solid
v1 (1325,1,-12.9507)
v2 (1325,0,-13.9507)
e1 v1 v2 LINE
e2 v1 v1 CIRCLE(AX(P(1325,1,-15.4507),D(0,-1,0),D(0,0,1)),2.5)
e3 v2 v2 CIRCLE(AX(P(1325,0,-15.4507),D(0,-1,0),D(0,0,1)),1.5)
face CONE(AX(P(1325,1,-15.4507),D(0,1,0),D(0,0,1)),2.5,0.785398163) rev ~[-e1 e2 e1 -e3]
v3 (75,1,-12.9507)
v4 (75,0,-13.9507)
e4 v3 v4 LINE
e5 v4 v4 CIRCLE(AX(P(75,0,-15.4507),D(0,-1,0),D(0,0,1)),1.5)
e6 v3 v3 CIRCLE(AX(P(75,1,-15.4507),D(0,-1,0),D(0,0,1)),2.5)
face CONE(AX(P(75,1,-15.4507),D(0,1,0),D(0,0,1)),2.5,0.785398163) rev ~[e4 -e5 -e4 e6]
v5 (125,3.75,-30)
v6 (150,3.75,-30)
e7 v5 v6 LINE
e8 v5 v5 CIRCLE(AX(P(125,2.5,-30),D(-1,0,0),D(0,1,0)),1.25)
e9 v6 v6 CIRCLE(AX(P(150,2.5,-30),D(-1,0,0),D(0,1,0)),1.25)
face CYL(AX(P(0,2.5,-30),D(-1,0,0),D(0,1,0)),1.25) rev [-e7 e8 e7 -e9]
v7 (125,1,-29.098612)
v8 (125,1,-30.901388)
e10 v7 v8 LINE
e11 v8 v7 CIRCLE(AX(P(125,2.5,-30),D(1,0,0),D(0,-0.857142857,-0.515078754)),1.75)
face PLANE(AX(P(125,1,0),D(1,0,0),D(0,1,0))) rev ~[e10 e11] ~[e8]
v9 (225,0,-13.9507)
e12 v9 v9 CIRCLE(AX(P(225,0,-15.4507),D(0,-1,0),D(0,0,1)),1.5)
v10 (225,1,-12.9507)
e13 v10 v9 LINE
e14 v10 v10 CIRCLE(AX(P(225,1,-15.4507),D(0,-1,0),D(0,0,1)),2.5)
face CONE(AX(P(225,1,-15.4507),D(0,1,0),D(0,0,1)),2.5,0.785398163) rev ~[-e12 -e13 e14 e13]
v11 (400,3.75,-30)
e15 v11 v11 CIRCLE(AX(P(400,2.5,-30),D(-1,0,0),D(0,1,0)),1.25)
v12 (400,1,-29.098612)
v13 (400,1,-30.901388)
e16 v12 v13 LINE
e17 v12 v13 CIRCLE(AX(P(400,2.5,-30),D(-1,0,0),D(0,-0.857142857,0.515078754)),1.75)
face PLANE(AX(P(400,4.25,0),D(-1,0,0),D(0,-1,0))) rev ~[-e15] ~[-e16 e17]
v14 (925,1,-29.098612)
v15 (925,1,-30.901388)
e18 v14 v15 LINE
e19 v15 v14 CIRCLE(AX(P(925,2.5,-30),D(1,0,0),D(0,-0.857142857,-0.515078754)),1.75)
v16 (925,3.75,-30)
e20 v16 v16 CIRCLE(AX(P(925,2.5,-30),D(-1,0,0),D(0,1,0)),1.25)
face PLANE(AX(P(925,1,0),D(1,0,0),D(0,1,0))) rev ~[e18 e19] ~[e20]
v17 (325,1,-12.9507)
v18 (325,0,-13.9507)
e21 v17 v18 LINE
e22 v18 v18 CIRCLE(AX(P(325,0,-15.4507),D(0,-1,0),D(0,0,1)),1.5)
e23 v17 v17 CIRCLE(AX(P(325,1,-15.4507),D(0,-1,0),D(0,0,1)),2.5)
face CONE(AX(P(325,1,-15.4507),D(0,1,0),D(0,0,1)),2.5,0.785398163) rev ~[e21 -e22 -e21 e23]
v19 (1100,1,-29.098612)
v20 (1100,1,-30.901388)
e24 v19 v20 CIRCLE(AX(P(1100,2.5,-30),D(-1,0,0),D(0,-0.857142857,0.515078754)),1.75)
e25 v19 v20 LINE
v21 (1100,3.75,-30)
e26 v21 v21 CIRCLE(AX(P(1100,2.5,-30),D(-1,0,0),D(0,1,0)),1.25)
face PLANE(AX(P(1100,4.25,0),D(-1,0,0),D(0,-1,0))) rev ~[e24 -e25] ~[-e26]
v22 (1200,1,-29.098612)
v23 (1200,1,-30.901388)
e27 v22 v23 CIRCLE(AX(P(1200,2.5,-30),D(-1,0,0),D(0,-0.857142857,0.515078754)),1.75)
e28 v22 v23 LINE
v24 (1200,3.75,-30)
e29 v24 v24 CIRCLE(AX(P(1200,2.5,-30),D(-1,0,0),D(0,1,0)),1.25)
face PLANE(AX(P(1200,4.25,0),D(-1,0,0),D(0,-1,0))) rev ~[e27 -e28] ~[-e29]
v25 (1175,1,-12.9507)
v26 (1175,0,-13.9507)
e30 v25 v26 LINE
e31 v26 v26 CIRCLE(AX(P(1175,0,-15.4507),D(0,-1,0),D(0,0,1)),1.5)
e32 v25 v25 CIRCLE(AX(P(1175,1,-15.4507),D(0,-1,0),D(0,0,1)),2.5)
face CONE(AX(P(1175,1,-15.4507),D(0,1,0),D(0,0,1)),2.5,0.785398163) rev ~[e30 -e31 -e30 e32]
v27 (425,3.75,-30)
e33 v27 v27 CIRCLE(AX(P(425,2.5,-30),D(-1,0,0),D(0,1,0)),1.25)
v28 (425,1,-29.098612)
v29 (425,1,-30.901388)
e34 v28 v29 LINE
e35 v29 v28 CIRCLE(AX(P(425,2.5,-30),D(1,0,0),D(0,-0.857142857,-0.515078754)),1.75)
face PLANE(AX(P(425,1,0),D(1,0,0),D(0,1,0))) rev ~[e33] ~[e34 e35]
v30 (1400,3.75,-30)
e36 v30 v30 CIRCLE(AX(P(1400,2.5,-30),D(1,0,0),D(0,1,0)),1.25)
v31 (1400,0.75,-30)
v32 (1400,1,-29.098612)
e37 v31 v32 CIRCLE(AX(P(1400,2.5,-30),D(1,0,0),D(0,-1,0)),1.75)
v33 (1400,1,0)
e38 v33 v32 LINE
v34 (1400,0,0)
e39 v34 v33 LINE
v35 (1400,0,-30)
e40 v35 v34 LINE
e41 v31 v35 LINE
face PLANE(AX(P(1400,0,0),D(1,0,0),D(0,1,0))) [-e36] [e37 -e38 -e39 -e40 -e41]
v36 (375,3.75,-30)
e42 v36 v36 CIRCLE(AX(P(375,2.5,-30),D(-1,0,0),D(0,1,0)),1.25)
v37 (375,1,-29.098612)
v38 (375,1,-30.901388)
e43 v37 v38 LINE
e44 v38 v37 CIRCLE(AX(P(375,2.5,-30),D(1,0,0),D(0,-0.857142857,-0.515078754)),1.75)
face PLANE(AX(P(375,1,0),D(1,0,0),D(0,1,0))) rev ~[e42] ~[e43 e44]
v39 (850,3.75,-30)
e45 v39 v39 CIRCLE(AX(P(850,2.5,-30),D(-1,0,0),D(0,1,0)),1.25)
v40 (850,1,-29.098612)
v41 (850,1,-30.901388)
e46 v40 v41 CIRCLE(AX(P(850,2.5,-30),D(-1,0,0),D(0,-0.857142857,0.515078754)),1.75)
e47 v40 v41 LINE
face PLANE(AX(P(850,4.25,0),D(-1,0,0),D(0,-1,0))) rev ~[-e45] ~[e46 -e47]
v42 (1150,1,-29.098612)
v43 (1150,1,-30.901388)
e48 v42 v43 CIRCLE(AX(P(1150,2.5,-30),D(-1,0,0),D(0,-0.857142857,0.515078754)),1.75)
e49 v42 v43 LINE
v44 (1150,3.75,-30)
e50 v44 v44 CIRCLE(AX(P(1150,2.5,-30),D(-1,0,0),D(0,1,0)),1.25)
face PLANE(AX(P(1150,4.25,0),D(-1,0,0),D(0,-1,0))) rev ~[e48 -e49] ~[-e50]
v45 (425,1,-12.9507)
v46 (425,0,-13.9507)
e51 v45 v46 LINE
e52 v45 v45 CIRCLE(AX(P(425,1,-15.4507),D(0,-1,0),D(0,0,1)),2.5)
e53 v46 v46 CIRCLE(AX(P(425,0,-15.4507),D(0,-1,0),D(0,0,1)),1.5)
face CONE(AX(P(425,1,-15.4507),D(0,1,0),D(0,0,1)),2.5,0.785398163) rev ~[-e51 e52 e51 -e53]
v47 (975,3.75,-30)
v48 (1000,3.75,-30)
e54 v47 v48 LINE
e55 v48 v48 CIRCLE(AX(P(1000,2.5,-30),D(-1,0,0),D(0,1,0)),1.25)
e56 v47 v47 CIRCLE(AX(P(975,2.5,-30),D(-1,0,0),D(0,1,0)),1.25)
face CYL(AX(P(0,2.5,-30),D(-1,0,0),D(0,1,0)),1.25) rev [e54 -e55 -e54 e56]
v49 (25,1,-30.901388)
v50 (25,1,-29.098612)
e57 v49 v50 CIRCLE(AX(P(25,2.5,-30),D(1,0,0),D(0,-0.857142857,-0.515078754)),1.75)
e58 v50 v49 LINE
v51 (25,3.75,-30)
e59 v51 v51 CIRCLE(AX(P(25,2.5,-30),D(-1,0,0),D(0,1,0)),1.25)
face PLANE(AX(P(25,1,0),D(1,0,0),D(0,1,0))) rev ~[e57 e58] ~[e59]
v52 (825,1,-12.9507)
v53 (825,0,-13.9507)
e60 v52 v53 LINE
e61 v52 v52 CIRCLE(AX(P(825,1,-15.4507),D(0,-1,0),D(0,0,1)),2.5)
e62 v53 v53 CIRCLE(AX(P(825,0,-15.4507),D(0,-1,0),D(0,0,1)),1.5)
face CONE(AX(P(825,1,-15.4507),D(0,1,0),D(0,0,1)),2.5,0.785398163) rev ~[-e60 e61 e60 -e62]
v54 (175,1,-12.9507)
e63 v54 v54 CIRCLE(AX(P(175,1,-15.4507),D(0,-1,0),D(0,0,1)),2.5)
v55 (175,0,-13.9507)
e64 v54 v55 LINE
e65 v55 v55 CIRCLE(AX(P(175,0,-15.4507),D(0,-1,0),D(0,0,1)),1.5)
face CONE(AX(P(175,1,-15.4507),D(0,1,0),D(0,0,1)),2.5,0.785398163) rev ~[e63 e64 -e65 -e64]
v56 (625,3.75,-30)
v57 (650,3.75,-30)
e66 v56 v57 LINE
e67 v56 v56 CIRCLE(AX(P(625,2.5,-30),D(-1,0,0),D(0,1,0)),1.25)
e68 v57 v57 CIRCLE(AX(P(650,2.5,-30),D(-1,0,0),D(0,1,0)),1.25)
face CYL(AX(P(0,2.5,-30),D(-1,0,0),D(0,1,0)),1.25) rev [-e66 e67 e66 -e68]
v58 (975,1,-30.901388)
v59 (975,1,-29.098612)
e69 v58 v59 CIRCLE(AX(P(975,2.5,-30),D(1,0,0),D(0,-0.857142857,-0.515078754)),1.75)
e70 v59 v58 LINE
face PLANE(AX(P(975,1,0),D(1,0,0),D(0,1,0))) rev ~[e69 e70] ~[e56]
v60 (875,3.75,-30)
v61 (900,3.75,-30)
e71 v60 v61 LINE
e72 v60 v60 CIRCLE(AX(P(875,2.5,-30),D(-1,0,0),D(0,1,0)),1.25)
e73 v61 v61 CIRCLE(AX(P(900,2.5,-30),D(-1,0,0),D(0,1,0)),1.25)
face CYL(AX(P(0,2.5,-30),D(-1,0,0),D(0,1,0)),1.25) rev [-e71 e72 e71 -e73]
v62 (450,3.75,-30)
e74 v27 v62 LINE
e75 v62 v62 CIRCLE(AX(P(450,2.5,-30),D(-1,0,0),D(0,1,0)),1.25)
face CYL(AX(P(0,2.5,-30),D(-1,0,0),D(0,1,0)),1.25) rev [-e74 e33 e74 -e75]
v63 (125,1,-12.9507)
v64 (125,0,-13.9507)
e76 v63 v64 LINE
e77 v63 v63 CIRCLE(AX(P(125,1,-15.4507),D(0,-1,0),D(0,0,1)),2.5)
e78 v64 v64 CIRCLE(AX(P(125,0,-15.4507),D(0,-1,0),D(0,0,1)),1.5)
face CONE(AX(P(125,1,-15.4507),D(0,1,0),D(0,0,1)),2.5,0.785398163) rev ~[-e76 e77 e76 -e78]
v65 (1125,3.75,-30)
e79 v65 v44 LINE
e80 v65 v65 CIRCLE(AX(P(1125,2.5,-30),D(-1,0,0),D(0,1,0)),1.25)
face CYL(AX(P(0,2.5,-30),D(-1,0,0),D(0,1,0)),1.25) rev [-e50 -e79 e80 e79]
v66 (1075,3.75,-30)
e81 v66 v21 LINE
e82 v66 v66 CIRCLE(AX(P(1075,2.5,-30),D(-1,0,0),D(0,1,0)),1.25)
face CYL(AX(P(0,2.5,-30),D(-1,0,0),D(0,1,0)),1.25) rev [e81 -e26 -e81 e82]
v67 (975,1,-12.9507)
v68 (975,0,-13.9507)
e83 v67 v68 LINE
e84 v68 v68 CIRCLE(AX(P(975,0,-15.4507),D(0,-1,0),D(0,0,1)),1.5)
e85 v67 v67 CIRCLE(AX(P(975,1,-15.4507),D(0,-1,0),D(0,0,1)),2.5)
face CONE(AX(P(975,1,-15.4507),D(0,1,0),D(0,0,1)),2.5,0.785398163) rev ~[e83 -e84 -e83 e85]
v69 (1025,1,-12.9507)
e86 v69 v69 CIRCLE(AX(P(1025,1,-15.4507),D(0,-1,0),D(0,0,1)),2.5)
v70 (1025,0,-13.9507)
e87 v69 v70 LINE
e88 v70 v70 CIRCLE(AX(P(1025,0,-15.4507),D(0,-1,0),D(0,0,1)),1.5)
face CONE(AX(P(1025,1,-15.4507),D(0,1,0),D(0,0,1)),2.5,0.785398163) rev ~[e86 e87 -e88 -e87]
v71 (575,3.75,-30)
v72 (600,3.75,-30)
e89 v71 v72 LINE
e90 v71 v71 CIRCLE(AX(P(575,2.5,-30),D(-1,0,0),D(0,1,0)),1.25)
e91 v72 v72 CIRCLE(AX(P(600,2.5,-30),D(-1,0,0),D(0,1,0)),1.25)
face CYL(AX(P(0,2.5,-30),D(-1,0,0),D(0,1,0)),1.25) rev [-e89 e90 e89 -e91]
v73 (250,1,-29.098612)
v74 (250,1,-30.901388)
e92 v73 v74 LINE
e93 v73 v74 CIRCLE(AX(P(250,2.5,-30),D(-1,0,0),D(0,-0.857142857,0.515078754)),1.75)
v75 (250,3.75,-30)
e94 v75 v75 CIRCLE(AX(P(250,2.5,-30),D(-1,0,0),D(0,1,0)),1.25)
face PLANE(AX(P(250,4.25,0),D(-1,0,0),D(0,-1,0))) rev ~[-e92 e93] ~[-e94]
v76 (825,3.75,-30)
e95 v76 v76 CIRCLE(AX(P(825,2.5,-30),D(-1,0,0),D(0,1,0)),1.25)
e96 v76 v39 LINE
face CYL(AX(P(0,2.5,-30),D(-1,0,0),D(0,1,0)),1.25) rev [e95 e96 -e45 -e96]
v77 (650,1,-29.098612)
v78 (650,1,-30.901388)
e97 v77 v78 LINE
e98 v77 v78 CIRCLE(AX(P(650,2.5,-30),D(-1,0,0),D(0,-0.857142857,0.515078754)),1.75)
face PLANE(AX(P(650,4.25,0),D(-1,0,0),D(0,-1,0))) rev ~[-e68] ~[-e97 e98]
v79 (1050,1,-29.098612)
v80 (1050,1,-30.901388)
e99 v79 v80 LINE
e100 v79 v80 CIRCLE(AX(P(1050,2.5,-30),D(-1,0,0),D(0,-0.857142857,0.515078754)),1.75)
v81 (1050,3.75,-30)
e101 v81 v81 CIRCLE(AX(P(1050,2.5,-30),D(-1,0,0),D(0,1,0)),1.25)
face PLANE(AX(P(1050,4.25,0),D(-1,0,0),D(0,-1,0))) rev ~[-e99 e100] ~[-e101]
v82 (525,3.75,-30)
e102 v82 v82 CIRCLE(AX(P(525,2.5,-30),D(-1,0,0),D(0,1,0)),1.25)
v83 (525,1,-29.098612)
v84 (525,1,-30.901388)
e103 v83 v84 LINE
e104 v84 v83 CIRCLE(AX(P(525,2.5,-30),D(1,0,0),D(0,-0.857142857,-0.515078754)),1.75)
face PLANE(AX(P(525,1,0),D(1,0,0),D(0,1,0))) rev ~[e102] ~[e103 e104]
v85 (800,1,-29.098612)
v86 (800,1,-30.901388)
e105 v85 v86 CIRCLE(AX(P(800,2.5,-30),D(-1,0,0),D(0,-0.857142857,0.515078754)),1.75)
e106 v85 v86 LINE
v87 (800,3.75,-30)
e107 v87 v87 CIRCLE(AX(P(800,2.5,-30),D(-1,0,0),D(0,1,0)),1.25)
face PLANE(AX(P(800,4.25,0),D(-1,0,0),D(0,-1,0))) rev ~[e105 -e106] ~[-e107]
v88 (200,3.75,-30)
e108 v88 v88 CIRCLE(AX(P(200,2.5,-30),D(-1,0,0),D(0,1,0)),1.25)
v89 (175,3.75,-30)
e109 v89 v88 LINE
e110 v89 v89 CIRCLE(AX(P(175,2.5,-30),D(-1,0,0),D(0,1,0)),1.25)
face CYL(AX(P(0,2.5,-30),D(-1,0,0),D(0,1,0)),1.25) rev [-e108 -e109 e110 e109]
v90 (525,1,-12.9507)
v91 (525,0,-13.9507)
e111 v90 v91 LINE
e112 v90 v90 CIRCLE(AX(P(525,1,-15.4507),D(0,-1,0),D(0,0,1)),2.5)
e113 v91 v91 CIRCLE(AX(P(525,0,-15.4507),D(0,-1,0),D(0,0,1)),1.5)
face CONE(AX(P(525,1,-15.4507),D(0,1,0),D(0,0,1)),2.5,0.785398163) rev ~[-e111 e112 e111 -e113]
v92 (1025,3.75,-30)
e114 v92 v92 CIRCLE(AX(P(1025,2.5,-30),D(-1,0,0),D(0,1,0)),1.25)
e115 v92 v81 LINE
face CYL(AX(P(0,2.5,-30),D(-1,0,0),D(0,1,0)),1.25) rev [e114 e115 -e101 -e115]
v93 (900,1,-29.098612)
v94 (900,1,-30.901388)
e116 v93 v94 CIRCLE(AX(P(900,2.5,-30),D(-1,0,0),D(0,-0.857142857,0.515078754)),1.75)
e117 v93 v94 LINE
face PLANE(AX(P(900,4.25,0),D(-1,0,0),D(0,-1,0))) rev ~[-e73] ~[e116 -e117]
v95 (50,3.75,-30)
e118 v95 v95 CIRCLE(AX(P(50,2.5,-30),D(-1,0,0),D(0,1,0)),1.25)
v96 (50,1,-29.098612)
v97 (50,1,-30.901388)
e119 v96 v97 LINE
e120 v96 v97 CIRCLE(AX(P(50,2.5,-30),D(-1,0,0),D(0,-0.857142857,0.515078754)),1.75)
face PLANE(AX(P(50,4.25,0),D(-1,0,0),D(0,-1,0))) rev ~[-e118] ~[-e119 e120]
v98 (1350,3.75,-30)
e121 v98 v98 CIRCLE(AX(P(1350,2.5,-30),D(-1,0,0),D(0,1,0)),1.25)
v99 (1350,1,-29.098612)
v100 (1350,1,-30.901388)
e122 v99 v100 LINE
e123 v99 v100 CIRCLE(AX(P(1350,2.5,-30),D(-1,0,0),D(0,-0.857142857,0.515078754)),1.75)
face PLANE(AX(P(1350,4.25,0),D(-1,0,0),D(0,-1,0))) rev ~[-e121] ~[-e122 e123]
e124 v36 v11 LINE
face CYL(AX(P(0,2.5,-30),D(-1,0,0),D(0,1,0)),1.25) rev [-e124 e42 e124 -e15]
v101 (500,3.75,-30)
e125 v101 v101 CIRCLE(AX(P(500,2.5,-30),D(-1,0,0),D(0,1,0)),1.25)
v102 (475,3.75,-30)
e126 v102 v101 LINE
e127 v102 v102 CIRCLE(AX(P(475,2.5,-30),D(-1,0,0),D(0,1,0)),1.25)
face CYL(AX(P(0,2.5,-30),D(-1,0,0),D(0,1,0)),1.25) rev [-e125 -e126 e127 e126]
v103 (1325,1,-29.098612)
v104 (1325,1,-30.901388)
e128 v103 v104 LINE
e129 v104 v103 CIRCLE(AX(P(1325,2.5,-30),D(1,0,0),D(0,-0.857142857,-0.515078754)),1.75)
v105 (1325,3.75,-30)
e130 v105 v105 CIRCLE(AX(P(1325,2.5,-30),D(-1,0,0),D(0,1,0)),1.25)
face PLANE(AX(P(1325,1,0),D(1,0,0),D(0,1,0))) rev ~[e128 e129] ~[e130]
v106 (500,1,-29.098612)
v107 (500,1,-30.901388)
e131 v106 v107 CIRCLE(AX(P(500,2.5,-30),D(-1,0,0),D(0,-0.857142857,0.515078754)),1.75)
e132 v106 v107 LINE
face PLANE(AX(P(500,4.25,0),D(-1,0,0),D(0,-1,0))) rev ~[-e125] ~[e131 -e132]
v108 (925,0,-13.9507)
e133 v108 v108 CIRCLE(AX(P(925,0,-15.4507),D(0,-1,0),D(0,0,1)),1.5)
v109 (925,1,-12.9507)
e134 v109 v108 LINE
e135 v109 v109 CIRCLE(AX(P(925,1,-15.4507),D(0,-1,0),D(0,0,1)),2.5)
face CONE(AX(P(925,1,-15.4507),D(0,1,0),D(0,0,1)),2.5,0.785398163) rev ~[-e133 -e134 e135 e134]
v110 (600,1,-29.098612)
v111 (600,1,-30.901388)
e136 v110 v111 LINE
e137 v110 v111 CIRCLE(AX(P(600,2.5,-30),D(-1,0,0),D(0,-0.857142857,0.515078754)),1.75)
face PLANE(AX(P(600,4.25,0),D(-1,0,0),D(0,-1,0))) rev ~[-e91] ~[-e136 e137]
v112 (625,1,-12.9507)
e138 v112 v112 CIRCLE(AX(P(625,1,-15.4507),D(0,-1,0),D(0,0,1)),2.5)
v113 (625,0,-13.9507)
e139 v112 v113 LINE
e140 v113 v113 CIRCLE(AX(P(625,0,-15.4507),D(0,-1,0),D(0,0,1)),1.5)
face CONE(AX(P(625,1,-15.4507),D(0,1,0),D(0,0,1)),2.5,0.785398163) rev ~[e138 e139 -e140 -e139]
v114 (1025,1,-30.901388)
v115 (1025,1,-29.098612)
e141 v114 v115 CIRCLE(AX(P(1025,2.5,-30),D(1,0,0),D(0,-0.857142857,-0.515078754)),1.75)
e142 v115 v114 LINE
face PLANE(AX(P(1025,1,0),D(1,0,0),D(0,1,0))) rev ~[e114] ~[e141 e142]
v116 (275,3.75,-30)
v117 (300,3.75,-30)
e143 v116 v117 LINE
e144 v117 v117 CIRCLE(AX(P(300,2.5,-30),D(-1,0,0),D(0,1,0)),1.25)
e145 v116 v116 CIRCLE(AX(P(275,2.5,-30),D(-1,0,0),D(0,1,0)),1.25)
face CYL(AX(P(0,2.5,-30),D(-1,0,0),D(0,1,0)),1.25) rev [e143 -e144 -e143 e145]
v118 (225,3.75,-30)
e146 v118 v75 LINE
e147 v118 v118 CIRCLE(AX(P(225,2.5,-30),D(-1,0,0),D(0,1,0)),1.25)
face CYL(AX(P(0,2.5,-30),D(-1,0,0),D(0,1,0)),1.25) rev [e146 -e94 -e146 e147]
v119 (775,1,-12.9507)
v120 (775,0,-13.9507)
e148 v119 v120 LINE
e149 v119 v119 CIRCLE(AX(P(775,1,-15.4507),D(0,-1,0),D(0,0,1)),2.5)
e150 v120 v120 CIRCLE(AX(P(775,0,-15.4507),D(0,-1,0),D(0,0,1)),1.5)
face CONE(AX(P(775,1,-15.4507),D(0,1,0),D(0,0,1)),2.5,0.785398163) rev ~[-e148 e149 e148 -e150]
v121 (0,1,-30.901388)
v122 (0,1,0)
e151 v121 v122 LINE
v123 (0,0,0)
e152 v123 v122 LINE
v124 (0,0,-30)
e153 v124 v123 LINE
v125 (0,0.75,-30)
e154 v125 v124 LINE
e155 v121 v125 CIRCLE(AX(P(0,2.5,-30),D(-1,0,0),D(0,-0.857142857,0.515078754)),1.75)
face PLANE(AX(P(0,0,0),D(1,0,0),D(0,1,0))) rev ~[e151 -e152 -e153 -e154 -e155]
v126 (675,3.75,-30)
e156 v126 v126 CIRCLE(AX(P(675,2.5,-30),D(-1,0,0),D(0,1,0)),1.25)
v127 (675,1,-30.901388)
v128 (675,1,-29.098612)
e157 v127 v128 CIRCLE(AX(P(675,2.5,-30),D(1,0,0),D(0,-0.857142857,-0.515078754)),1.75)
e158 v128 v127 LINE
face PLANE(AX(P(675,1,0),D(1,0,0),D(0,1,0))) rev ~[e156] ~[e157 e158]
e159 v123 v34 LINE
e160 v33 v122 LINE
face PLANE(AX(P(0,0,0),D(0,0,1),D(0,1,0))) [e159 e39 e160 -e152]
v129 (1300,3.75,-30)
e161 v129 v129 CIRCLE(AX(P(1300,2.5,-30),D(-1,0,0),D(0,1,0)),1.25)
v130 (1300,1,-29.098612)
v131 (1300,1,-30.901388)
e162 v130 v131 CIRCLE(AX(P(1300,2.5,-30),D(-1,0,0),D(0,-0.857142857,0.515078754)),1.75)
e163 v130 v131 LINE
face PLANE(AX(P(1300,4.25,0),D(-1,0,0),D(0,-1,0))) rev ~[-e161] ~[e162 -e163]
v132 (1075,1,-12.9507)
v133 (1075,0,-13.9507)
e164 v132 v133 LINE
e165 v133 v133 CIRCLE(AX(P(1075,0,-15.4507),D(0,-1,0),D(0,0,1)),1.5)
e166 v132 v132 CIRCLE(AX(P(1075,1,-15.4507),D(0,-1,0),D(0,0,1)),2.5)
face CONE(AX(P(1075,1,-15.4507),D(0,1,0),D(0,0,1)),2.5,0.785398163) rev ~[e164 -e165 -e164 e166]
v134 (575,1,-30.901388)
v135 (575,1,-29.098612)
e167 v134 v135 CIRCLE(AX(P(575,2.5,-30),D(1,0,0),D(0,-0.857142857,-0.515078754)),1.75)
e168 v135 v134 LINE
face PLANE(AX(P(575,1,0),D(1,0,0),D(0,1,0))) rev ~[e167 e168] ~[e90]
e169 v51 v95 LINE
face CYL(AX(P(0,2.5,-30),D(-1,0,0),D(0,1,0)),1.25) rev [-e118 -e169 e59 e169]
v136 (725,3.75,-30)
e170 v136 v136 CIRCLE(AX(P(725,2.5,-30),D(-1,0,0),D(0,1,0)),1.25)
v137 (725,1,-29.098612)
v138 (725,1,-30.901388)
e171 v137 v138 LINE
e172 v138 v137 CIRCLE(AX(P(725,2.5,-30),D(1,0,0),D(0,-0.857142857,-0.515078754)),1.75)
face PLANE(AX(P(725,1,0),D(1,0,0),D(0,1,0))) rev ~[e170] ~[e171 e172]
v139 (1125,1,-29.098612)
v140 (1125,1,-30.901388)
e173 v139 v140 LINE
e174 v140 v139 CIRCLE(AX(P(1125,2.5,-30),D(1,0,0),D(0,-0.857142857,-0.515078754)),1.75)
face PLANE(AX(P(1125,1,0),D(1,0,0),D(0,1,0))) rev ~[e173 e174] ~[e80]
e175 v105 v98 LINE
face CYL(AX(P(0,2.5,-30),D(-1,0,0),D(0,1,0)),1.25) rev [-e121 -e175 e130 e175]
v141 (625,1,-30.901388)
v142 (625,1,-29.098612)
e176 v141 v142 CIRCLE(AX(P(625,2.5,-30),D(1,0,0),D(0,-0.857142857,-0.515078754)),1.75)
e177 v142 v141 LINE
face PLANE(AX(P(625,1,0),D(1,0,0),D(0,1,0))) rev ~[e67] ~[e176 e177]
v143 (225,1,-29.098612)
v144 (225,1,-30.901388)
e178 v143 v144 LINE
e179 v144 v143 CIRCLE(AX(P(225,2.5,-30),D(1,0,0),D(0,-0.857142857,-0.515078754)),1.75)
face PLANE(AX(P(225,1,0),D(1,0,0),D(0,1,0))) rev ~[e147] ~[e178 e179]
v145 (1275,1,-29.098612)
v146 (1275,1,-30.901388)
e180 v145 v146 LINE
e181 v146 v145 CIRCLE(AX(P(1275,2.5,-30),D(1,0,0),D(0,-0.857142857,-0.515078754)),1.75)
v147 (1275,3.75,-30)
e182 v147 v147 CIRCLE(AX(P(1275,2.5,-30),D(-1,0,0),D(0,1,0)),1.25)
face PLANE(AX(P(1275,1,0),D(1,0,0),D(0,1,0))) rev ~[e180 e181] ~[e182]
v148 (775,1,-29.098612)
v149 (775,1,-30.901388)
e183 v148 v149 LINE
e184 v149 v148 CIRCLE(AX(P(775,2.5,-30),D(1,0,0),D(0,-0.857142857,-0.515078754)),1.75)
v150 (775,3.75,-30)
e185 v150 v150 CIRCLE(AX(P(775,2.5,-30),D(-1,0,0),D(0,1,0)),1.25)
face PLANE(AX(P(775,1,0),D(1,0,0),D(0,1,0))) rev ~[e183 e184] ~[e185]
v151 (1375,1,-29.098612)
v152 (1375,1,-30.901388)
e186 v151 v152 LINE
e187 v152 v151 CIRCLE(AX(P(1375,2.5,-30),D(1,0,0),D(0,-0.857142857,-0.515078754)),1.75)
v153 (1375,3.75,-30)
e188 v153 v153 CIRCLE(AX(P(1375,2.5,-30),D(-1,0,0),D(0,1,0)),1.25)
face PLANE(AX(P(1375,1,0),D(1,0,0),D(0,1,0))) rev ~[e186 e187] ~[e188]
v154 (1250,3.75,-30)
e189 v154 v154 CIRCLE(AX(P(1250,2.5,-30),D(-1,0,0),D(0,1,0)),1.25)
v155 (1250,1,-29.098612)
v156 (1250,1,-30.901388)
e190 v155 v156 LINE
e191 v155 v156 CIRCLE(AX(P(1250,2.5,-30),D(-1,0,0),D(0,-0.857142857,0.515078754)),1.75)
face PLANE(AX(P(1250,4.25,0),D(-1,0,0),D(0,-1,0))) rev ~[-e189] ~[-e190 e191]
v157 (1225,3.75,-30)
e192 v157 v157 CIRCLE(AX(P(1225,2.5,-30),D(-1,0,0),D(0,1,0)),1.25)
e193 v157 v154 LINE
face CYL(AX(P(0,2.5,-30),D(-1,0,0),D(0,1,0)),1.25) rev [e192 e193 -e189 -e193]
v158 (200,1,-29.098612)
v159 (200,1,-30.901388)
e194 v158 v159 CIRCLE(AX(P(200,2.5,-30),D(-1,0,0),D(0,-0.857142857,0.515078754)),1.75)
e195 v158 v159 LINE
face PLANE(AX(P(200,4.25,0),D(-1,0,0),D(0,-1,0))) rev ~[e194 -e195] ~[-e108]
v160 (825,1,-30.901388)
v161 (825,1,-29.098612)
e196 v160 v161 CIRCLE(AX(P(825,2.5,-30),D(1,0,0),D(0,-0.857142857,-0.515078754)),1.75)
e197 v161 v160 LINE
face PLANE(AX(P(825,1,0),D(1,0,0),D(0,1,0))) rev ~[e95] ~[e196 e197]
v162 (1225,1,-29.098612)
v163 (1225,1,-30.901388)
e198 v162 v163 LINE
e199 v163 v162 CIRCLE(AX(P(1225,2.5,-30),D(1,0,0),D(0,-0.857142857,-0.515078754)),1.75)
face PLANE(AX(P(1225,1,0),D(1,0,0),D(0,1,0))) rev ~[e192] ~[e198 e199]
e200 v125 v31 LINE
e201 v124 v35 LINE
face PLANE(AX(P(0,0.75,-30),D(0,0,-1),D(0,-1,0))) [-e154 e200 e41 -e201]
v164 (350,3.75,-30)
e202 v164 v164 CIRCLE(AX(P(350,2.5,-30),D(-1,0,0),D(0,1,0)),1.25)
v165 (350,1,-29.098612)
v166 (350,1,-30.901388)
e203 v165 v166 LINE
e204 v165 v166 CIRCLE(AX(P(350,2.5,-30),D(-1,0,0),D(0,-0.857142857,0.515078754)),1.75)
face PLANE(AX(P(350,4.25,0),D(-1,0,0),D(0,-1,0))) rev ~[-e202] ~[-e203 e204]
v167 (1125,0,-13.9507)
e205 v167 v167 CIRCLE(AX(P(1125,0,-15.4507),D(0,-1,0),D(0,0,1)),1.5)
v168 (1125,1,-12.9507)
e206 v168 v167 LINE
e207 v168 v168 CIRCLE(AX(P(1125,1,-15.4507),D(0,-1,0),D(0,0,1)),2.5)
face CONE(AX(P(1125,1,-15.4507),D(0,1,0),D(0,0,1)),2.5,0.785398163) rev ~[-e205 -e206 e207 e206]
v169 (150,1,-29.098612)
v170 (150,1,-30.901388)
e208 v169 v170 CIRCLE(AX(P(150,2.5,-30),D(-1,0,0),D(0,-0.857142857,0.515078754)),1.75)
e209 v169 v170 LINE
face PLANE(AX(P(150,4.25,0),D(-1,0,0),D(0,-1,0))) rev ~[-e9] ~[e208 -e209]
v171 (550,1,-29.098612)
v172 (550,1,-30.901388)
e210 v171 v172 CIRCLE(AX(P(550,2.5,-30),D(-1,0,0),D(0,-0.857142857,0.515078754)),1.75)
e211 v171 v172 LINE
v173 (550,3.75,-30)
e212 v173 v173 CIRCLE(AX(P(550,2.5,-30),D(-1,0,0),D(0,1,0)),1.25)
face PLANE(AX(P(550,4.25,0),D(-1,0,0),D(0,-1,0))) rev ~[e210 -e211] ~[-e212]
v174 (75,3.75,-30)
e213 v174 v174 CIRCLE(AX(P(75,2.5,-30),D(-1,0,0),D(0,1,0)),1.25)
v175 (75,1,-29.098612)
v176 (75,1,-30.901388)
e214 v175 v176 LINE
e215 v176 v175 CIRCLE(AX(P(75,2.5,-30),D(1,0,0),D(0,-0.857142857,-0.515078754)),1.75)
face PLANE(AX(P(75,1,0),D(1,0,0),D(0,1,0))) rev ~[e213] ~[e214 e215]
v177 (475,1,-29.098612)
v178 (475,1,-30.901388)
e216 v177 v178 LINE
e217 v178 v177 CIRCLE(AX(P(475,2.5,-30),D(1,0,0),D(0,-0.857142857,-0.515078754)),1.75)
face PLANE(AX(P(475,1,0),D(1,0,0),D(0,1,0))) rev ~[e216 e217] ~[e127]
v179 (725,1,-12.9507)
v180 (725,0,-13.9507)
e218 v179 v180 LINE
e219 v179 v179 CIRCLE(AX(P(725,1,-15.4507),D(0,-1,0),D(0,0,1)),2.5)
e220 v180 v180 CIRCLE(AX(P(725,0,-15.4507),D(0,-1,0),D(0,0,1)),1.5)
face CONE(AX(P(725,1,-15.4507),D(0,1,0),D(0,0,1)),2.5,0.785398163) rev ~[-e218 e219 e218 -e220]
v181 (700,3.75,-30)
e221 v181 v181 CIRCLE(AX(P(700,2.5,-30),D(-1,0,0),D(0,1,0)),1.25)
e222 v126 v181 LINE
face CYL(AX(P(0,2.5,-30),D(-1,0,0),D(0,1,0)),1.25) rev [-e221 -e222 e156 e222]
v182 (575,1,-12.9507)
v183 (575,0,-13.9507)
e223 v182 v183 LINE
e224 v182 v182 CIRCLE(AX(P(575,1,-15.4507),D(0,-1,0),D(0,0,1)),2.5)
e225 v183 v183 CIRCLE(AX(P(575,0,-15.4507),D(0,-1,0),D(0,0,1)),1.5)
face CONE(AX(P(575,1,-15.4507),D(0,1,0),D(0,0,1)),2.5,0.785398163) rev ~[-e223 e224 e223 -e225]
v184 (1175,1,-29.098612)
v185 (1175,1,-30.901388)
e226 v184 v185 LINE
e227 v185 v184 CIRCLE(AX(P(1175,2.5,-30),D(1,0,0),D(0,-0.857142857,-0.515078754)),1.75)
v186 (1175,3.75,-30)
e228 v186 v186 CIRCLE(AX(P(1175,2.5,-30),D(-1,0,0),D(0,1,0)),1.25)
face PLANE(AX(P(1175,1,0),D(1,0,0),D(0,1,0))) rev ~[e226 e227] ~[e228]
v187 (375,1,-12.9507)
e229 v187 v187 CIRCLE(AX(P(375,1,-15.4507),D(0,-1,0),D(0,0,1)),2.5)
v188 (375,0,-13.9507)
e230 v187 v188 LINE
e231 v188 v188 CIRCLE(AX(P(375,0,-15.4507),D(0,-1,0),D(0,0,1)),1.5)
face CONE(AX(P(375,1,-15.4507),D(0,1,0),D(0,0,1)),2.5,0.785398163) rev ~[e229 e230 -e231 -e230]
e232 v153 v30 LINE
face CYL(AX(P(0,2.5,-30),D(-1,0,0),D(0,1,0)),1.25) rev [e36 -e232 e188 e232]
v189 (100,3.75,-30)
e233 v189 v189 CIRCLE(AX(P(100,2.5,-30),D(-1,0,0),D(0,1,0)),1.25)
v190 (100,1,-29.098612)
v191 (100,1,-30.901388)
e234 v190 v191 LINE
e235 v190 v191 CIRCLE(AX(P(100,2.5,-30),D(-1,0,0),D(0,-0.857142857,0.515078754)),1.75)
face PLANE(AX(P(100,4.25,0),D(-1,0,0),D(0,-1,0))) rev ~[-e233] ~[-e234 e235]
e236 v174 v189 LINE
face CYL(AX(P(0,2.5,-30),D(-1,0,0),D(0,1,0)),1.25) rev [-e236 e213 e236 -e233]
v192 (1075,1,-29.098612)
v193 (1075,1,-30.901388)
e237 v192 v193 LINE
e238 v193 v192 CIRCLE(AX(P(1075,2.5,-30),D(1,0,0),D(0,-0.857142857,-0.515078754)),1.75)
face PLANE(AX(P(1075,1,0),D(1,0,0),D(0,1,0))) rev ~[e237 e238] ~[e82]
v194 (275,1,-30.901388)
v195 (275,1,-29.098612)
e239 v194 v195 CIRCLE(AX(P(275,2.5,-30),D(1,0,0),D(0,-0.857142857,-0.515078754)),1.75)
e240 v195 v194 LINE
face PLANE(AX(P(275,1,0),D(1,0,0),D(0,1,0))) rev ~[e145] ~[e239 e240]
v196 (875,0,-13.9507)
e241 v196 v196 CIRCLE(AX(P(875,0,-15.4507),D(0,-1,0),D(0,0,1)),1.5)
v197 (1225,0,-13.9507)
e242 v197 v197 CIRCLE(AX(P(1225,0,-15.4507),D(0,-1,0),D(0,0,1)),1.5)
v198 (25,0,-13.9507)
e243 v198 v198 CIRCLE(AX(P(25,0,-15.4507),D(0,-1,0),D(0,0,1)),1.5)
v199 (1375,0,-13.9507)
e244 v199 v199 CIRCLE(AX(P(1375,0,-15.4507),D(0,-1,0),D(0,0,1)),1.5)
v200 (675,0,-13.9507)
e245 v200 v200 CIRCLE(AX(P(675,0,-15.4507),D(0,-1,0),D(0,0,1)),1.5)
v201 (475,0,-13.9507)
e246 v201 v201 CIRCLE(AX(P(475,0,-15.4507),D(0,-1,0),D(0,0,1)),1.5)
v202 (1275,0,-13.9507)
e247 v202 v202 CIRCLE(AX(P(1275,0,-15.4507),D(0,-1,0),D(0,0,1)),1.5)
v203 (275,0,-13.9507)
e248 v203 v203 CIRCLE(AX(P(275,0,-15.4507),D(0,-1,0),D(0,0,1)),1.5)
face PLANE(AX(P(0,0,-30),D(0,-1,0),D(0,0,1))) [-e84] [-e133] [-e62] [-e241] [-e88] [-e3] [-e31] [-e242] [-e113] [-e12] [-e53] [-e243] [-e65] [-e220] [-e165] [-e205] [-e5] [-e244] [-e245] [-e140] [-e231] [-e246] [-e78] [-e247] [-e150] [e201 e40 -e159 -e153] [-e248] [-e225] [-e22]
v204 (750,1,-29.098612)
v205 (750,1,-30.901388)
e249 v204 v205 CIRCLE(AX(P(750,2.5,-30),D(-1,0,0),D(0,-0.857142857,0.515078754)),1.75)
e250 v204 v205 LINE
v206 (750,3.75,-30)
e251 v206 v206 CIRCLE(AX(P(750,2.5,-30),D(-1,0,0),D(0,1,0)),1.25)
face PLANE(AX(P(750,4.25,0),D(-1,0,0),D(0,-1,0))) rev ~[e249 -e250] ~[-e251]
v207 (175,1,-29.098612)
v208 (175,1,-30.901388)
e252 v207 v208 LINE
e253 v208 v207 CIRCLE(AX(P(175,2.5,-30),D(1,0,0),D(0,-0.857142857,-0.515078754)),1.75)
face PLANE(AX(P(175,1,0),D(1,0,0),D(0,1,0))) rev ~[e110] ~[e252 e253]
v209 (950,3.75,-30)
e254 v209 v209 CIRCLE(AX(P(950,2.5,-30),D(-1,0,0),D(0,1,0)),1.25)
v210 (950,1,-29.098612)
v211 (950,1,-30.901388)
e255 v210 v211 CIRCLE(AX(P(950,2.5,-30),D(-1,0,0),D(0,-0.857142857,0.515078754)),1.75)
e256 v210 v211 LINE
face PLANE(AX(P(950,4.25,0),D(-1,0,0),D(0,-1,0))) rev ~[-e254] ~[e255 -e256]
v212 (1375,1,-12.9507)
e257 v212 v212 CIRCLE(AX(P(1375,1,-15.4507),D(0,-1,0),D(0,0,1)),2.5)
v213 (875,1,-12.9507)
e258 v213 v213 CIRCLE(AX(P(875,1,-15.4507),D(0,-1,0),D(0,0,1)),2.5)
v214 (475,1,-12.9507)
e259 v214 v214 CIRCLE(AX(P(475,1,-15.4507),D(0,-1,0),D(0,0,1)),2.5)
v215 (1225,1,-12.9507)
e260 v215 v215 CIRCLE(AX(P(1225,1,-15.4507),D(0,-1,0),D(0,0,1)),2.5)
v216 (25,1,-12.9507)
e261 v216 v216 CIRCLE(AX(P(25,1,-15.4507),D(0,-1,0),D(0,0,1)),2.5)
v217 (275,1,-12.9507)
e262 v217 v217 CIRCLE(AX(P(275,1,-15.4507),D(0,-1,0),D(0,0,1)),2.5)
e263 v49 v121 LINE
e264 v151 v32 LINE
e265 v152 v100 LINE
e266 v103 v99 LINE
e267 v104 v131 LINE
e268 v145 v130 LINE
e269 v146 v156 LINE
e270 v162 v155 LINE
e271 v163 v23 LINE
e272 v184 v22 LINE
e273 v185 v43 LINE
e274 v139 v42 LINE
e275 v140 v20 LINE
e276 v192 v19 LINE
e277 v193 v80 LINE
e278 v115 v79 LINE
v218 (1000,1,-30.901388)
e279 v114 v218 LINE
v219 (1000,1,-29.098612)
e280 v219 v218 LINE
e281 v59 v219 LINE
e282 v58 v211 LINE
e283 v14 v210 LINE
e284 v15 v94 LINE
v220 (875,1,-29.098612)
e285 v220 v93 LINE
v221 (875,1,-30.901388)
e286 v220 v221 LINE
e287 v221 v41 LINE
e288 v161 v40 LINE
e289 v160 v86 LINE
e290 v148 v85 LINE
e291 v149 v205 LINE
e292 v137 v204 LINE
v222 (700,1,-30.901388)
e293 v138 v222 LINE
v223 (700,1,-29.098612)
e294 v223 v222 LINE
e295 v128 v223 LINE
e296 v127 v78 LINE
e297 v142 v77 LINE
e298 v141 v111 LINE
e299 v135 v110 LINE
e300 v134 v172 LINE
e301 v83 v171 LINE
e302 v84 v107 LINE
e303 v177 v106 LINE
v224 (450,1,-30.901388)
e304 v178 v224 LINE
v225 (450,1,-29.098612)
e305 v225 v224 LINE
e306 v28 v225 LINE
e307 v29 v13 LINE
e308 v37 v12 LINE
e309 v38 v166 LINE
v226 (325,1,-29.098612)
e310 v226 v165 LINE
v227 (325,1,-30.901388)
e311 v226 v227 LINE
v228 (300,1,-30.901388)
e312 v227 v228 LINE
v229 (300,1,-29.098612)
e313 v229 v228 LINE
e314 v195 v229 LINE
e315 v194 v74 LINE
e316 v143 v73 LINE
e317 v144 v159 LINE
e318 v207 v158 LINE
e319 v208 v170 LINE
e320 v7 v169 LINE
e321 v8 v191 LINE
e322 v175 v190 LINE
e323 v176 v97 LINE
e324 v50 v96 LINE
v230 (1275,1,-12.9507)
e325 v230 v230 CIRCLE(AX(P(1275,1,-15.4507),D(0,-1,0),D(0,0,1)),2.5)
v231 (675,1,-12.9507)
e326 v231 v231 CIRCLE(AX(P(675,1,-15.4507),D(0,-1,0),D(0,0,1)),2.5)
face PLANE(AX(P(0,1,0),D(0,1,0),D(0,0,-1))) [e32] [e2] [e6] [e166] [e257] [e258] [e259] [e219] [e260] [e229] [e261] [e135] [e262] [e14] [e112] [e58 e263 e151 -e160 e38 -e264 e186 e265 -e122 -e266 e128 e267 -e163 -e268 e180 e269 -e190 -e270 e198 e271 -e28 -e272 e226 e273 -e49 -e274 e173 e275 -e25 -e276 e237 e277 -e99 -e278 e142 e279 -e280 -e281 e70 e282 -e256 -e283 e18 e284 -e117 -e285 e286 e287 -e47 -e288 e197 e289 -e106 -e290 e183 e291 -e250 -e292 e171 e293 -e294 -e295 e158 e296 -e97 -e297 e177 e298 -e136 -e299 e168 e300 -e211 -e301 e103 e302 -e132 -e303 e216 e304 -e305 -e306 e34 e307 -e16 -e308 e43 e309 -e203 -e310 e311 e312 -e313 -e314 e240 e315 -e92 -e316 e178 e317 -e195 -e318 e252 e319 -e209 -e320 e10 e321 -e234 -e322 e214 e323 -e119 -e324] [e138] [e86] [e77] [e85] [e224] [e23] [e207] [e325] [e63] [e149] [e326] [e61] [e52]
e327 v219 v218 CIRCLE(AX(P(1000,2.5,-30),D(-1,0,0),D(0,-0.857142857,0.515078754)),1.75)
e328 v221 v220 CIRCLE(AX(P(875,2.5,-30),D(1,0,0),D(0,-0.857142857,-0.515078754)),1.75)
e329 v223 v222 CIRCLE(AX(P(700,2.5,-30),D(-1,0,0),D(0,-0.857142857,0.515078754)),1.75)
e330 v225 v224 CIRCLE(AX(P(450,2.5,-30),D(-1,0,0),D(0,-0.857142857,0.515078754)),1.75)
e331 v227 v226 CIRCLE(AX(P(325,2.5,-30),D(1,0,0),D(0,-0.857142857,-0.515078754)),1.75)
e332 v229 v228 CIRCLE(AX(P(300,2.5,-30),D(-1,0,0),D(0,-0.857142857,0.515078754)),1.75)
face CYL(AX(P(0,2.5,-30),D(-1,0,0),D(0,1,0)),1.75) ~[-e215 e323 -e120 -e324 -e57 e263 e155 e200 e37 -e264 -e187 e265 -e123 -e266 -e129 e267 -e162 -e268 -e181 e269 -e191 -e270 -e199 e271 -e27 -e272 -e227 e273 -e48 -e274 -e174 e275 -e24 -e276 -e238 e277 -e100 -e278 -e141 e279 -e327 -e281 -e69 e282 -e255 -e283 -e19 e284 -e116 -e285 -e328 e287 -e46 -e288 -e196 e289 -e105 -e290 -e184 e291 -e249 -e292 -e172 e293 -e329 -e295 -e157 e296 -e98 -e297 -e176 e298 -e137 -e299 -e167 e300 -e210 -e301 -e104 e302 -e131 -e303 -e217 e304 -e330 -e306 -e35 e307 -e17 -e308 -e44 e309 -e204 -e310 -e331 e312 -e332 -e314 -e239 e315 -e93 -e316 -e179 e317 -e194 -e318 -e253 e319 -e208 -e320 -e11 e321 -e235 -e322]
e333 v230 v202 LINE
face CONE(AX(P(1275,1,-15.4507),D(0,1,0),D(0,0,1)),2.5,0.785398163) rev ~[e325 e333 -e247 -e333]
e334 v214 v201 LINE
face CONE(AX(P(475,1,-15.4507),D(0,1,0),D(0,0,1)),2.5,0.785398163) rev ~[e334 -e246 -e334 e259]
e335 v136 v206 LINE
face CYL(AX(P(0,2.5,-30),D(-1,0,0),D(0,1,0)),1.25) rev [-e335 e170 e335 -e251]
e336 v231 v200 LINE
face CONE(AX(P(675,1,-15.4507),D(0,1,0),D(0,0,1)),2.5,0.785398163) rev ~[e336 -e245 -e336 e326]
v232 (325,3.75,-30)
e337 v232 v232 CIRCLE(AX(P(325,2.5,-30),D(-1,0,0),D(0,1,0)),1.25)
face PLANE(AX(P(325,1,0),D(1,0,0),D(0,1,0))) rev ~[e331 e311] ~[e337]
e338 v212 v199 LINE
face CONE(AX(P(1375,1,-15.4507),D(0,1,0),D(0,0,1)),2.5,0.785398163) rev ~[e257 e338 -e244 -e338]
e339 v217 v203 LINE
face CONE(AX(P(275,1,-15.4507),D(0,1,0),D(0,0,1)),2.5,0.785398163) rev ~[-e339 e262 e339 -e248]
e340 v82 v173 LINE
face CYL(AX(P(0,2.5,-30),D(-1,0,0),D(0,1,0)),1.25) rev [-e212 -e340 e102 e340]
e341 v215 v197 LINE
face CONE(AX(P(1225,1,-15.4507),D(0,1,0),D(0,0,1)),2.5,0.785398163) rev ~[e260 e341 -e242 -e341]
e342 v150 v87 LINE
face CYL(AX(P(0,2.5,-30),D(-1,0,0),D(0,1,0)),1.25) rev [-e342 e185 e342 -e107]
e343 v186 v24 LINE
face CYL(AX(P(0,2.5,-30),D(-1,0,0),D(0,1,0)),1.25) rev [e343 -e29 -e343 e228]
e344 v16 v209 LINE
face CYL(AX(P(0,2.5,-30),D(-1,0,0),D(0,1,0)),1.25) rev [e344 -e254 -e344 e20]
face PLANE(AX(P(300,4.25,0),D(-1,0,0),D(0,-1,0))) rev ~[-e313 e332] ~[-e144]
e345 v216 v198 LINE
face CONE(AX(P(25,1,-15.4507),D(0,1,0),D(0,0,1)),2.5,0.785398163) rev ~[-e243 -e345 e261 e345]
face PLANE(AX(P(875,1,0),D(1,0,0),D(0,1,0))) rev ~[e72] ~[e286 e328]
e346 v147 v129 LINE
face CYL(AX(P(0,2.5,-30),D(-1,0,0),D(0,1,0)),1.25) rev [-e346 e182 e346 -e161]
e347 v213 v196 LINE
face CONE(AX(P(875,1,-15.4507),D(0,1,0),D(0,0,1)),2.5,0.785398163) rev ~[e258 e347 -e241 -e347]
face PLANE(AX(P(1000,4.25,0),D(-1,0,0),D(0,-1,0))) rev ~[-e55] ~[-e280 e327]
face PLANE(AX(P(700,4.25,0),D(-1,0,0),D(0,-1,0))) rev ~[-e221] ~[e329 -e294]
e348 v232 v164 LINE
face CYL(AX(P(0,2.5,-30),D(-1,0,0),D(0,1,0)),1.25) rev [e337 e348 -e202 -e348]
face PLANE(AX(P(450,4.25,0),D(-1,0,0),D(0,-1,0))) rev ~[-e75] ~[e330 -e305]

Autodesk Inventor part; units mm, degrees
ref_plane "YZ Plane" through (0, 0, 0) normal (1, 0, 0) x (0, 1, 0)
ref_plane "XZ Plane" through (0, 0, 0) normal (0, 1, 0) x (-1, 0, 0)
ref_plane "XY Plane" through (0, 0, 0) normal (0, 0, 1) x (1, 0, 0)
sketch "Sketch1" plane through (0, 0, 0) normal (1, 0, 0) x (0, 1, 0)
  line L0 (0, 0) -> (1, 0)
  line L1 (1, 0) -> (1, -30)
  line L2 (1, -30) -> (0, -30)
  line L3 (0, -30) -> (0, 0)
  circle A0 centre (2.5, -30) radius 1.25
  circle A1 centre (2.5, -30) radius 1.75
  dimension "d0" = 1
  dimension "d1" = 30
  dimension "d2" = 2.5
  dimension "d3" = 2.5
  dimension "d4" = 3.5
extrude "Extrusion1" add sketch "Sketch1" along normal blind 1400
sketch "Sketch2" plane through (0, 0, 0) normal (0, 0, 1) x (1, 0, 0)
  line L0 (0, 1) -> (25, 1)
  line L1 (25, 1) -> (25, 4.25)
  line L2 (25, 4.25) -> (0, 4.25)
  line L3 (0, 4.25) -> (0, 1)
  point P0 (0, 0)
  dimension "d7" = 25
  dimension "d8" = 3.25
extrude "Extrusion2" cut sketch "Sketch2" against normal through all
pattern_linear "Rectangular Pattern1" count 28 spacing 50 along (1, 0, 0) of "Extrusion2"
sketch "Sketch3" plane through (0, 1, 0) normal (0, 1, 0) x (1, 0, 0)
  line L0 (0, 0) -> (0, 30.9014) projected
  line L1 (0, 0) -> (1400, 0) projected
  point P0 (25, 15.4507)
  point P1 (0, 15.4507)
  point P2 (75, 15.4507)
  point P3 (125, 15.4507)
  point P4 (175, 15.4507)
  point P5 (225, 15.4507)
  point P6 (275, 15.4507)
  point P7 (325, 15.4507)
  point P8 (375, 15.4507)
  point P9 (425, 15.4507)
  point P10 (475, 15.4507)
  point P11 (525, 15.4507)
  point P12 (575, 15.4507)
  point P13 (625, 15.4507)
  point P14 (675, 15.4507)
  point P15 (725, 15.4507)
  point P16 (775, 15.4507)
  point P17 (825, 15.4507)
  point P18 (875, 15.4507)
  point P19 (925, 15.4507)
  point P20 (975, 15.4507)
  point P21 (1025, 15.4507)
  point P22 (1075, 15.4507)
  point P23 (1125, 15.4507)
  point P24 (1175, 15.4507)
  point P25 (1225, 15.4507)
  point P26 (1275, 15.4507)
  point P27 (1325, 15.4507)
  point P28 (1375, 15.4507)
  dimension "d14" = 25
  dimension "d17" = 50
hole "Hole1" at (25, 1, -15.4507) at (75, 1, -15.4507) at (125, 1, -15.4507) at (175, 1, -15.4507) at (225, 1, -15.4507) at (275, 1, -15.4507) at (325, 1, -15.4507) at (375, 1, -15.4507) at (425, 1, -15.4507) at (475, 1, -15.4507) at (525, 1, -15.4507) at (575, 1, -15.4507) at (625, 1, -15.4507) at (675, 1, -15.4507) at (725, 1, -15.4507) at (775, 1, -15.4507) at (825, 1, -15.4507) at (875, 1, -15.4507) at (925, 1, -15.4507) at (975, 1, -15.4507) at (1025, 1, -15.4507) at (1075, 1, -15.4507) at (1125, 1, -15.4507) at (1175, 1, -15.4507) at (1225, 1, -15.4507) at (1275, 1, -15.4507) at (1325, 1, -15.4507) at (1375, 1, -15.4507) direction (0, -1, 0) diameter 3 end through all countersink diameter 5 countersink angle 90
properties part number "Long Hinge" material "Steel"
